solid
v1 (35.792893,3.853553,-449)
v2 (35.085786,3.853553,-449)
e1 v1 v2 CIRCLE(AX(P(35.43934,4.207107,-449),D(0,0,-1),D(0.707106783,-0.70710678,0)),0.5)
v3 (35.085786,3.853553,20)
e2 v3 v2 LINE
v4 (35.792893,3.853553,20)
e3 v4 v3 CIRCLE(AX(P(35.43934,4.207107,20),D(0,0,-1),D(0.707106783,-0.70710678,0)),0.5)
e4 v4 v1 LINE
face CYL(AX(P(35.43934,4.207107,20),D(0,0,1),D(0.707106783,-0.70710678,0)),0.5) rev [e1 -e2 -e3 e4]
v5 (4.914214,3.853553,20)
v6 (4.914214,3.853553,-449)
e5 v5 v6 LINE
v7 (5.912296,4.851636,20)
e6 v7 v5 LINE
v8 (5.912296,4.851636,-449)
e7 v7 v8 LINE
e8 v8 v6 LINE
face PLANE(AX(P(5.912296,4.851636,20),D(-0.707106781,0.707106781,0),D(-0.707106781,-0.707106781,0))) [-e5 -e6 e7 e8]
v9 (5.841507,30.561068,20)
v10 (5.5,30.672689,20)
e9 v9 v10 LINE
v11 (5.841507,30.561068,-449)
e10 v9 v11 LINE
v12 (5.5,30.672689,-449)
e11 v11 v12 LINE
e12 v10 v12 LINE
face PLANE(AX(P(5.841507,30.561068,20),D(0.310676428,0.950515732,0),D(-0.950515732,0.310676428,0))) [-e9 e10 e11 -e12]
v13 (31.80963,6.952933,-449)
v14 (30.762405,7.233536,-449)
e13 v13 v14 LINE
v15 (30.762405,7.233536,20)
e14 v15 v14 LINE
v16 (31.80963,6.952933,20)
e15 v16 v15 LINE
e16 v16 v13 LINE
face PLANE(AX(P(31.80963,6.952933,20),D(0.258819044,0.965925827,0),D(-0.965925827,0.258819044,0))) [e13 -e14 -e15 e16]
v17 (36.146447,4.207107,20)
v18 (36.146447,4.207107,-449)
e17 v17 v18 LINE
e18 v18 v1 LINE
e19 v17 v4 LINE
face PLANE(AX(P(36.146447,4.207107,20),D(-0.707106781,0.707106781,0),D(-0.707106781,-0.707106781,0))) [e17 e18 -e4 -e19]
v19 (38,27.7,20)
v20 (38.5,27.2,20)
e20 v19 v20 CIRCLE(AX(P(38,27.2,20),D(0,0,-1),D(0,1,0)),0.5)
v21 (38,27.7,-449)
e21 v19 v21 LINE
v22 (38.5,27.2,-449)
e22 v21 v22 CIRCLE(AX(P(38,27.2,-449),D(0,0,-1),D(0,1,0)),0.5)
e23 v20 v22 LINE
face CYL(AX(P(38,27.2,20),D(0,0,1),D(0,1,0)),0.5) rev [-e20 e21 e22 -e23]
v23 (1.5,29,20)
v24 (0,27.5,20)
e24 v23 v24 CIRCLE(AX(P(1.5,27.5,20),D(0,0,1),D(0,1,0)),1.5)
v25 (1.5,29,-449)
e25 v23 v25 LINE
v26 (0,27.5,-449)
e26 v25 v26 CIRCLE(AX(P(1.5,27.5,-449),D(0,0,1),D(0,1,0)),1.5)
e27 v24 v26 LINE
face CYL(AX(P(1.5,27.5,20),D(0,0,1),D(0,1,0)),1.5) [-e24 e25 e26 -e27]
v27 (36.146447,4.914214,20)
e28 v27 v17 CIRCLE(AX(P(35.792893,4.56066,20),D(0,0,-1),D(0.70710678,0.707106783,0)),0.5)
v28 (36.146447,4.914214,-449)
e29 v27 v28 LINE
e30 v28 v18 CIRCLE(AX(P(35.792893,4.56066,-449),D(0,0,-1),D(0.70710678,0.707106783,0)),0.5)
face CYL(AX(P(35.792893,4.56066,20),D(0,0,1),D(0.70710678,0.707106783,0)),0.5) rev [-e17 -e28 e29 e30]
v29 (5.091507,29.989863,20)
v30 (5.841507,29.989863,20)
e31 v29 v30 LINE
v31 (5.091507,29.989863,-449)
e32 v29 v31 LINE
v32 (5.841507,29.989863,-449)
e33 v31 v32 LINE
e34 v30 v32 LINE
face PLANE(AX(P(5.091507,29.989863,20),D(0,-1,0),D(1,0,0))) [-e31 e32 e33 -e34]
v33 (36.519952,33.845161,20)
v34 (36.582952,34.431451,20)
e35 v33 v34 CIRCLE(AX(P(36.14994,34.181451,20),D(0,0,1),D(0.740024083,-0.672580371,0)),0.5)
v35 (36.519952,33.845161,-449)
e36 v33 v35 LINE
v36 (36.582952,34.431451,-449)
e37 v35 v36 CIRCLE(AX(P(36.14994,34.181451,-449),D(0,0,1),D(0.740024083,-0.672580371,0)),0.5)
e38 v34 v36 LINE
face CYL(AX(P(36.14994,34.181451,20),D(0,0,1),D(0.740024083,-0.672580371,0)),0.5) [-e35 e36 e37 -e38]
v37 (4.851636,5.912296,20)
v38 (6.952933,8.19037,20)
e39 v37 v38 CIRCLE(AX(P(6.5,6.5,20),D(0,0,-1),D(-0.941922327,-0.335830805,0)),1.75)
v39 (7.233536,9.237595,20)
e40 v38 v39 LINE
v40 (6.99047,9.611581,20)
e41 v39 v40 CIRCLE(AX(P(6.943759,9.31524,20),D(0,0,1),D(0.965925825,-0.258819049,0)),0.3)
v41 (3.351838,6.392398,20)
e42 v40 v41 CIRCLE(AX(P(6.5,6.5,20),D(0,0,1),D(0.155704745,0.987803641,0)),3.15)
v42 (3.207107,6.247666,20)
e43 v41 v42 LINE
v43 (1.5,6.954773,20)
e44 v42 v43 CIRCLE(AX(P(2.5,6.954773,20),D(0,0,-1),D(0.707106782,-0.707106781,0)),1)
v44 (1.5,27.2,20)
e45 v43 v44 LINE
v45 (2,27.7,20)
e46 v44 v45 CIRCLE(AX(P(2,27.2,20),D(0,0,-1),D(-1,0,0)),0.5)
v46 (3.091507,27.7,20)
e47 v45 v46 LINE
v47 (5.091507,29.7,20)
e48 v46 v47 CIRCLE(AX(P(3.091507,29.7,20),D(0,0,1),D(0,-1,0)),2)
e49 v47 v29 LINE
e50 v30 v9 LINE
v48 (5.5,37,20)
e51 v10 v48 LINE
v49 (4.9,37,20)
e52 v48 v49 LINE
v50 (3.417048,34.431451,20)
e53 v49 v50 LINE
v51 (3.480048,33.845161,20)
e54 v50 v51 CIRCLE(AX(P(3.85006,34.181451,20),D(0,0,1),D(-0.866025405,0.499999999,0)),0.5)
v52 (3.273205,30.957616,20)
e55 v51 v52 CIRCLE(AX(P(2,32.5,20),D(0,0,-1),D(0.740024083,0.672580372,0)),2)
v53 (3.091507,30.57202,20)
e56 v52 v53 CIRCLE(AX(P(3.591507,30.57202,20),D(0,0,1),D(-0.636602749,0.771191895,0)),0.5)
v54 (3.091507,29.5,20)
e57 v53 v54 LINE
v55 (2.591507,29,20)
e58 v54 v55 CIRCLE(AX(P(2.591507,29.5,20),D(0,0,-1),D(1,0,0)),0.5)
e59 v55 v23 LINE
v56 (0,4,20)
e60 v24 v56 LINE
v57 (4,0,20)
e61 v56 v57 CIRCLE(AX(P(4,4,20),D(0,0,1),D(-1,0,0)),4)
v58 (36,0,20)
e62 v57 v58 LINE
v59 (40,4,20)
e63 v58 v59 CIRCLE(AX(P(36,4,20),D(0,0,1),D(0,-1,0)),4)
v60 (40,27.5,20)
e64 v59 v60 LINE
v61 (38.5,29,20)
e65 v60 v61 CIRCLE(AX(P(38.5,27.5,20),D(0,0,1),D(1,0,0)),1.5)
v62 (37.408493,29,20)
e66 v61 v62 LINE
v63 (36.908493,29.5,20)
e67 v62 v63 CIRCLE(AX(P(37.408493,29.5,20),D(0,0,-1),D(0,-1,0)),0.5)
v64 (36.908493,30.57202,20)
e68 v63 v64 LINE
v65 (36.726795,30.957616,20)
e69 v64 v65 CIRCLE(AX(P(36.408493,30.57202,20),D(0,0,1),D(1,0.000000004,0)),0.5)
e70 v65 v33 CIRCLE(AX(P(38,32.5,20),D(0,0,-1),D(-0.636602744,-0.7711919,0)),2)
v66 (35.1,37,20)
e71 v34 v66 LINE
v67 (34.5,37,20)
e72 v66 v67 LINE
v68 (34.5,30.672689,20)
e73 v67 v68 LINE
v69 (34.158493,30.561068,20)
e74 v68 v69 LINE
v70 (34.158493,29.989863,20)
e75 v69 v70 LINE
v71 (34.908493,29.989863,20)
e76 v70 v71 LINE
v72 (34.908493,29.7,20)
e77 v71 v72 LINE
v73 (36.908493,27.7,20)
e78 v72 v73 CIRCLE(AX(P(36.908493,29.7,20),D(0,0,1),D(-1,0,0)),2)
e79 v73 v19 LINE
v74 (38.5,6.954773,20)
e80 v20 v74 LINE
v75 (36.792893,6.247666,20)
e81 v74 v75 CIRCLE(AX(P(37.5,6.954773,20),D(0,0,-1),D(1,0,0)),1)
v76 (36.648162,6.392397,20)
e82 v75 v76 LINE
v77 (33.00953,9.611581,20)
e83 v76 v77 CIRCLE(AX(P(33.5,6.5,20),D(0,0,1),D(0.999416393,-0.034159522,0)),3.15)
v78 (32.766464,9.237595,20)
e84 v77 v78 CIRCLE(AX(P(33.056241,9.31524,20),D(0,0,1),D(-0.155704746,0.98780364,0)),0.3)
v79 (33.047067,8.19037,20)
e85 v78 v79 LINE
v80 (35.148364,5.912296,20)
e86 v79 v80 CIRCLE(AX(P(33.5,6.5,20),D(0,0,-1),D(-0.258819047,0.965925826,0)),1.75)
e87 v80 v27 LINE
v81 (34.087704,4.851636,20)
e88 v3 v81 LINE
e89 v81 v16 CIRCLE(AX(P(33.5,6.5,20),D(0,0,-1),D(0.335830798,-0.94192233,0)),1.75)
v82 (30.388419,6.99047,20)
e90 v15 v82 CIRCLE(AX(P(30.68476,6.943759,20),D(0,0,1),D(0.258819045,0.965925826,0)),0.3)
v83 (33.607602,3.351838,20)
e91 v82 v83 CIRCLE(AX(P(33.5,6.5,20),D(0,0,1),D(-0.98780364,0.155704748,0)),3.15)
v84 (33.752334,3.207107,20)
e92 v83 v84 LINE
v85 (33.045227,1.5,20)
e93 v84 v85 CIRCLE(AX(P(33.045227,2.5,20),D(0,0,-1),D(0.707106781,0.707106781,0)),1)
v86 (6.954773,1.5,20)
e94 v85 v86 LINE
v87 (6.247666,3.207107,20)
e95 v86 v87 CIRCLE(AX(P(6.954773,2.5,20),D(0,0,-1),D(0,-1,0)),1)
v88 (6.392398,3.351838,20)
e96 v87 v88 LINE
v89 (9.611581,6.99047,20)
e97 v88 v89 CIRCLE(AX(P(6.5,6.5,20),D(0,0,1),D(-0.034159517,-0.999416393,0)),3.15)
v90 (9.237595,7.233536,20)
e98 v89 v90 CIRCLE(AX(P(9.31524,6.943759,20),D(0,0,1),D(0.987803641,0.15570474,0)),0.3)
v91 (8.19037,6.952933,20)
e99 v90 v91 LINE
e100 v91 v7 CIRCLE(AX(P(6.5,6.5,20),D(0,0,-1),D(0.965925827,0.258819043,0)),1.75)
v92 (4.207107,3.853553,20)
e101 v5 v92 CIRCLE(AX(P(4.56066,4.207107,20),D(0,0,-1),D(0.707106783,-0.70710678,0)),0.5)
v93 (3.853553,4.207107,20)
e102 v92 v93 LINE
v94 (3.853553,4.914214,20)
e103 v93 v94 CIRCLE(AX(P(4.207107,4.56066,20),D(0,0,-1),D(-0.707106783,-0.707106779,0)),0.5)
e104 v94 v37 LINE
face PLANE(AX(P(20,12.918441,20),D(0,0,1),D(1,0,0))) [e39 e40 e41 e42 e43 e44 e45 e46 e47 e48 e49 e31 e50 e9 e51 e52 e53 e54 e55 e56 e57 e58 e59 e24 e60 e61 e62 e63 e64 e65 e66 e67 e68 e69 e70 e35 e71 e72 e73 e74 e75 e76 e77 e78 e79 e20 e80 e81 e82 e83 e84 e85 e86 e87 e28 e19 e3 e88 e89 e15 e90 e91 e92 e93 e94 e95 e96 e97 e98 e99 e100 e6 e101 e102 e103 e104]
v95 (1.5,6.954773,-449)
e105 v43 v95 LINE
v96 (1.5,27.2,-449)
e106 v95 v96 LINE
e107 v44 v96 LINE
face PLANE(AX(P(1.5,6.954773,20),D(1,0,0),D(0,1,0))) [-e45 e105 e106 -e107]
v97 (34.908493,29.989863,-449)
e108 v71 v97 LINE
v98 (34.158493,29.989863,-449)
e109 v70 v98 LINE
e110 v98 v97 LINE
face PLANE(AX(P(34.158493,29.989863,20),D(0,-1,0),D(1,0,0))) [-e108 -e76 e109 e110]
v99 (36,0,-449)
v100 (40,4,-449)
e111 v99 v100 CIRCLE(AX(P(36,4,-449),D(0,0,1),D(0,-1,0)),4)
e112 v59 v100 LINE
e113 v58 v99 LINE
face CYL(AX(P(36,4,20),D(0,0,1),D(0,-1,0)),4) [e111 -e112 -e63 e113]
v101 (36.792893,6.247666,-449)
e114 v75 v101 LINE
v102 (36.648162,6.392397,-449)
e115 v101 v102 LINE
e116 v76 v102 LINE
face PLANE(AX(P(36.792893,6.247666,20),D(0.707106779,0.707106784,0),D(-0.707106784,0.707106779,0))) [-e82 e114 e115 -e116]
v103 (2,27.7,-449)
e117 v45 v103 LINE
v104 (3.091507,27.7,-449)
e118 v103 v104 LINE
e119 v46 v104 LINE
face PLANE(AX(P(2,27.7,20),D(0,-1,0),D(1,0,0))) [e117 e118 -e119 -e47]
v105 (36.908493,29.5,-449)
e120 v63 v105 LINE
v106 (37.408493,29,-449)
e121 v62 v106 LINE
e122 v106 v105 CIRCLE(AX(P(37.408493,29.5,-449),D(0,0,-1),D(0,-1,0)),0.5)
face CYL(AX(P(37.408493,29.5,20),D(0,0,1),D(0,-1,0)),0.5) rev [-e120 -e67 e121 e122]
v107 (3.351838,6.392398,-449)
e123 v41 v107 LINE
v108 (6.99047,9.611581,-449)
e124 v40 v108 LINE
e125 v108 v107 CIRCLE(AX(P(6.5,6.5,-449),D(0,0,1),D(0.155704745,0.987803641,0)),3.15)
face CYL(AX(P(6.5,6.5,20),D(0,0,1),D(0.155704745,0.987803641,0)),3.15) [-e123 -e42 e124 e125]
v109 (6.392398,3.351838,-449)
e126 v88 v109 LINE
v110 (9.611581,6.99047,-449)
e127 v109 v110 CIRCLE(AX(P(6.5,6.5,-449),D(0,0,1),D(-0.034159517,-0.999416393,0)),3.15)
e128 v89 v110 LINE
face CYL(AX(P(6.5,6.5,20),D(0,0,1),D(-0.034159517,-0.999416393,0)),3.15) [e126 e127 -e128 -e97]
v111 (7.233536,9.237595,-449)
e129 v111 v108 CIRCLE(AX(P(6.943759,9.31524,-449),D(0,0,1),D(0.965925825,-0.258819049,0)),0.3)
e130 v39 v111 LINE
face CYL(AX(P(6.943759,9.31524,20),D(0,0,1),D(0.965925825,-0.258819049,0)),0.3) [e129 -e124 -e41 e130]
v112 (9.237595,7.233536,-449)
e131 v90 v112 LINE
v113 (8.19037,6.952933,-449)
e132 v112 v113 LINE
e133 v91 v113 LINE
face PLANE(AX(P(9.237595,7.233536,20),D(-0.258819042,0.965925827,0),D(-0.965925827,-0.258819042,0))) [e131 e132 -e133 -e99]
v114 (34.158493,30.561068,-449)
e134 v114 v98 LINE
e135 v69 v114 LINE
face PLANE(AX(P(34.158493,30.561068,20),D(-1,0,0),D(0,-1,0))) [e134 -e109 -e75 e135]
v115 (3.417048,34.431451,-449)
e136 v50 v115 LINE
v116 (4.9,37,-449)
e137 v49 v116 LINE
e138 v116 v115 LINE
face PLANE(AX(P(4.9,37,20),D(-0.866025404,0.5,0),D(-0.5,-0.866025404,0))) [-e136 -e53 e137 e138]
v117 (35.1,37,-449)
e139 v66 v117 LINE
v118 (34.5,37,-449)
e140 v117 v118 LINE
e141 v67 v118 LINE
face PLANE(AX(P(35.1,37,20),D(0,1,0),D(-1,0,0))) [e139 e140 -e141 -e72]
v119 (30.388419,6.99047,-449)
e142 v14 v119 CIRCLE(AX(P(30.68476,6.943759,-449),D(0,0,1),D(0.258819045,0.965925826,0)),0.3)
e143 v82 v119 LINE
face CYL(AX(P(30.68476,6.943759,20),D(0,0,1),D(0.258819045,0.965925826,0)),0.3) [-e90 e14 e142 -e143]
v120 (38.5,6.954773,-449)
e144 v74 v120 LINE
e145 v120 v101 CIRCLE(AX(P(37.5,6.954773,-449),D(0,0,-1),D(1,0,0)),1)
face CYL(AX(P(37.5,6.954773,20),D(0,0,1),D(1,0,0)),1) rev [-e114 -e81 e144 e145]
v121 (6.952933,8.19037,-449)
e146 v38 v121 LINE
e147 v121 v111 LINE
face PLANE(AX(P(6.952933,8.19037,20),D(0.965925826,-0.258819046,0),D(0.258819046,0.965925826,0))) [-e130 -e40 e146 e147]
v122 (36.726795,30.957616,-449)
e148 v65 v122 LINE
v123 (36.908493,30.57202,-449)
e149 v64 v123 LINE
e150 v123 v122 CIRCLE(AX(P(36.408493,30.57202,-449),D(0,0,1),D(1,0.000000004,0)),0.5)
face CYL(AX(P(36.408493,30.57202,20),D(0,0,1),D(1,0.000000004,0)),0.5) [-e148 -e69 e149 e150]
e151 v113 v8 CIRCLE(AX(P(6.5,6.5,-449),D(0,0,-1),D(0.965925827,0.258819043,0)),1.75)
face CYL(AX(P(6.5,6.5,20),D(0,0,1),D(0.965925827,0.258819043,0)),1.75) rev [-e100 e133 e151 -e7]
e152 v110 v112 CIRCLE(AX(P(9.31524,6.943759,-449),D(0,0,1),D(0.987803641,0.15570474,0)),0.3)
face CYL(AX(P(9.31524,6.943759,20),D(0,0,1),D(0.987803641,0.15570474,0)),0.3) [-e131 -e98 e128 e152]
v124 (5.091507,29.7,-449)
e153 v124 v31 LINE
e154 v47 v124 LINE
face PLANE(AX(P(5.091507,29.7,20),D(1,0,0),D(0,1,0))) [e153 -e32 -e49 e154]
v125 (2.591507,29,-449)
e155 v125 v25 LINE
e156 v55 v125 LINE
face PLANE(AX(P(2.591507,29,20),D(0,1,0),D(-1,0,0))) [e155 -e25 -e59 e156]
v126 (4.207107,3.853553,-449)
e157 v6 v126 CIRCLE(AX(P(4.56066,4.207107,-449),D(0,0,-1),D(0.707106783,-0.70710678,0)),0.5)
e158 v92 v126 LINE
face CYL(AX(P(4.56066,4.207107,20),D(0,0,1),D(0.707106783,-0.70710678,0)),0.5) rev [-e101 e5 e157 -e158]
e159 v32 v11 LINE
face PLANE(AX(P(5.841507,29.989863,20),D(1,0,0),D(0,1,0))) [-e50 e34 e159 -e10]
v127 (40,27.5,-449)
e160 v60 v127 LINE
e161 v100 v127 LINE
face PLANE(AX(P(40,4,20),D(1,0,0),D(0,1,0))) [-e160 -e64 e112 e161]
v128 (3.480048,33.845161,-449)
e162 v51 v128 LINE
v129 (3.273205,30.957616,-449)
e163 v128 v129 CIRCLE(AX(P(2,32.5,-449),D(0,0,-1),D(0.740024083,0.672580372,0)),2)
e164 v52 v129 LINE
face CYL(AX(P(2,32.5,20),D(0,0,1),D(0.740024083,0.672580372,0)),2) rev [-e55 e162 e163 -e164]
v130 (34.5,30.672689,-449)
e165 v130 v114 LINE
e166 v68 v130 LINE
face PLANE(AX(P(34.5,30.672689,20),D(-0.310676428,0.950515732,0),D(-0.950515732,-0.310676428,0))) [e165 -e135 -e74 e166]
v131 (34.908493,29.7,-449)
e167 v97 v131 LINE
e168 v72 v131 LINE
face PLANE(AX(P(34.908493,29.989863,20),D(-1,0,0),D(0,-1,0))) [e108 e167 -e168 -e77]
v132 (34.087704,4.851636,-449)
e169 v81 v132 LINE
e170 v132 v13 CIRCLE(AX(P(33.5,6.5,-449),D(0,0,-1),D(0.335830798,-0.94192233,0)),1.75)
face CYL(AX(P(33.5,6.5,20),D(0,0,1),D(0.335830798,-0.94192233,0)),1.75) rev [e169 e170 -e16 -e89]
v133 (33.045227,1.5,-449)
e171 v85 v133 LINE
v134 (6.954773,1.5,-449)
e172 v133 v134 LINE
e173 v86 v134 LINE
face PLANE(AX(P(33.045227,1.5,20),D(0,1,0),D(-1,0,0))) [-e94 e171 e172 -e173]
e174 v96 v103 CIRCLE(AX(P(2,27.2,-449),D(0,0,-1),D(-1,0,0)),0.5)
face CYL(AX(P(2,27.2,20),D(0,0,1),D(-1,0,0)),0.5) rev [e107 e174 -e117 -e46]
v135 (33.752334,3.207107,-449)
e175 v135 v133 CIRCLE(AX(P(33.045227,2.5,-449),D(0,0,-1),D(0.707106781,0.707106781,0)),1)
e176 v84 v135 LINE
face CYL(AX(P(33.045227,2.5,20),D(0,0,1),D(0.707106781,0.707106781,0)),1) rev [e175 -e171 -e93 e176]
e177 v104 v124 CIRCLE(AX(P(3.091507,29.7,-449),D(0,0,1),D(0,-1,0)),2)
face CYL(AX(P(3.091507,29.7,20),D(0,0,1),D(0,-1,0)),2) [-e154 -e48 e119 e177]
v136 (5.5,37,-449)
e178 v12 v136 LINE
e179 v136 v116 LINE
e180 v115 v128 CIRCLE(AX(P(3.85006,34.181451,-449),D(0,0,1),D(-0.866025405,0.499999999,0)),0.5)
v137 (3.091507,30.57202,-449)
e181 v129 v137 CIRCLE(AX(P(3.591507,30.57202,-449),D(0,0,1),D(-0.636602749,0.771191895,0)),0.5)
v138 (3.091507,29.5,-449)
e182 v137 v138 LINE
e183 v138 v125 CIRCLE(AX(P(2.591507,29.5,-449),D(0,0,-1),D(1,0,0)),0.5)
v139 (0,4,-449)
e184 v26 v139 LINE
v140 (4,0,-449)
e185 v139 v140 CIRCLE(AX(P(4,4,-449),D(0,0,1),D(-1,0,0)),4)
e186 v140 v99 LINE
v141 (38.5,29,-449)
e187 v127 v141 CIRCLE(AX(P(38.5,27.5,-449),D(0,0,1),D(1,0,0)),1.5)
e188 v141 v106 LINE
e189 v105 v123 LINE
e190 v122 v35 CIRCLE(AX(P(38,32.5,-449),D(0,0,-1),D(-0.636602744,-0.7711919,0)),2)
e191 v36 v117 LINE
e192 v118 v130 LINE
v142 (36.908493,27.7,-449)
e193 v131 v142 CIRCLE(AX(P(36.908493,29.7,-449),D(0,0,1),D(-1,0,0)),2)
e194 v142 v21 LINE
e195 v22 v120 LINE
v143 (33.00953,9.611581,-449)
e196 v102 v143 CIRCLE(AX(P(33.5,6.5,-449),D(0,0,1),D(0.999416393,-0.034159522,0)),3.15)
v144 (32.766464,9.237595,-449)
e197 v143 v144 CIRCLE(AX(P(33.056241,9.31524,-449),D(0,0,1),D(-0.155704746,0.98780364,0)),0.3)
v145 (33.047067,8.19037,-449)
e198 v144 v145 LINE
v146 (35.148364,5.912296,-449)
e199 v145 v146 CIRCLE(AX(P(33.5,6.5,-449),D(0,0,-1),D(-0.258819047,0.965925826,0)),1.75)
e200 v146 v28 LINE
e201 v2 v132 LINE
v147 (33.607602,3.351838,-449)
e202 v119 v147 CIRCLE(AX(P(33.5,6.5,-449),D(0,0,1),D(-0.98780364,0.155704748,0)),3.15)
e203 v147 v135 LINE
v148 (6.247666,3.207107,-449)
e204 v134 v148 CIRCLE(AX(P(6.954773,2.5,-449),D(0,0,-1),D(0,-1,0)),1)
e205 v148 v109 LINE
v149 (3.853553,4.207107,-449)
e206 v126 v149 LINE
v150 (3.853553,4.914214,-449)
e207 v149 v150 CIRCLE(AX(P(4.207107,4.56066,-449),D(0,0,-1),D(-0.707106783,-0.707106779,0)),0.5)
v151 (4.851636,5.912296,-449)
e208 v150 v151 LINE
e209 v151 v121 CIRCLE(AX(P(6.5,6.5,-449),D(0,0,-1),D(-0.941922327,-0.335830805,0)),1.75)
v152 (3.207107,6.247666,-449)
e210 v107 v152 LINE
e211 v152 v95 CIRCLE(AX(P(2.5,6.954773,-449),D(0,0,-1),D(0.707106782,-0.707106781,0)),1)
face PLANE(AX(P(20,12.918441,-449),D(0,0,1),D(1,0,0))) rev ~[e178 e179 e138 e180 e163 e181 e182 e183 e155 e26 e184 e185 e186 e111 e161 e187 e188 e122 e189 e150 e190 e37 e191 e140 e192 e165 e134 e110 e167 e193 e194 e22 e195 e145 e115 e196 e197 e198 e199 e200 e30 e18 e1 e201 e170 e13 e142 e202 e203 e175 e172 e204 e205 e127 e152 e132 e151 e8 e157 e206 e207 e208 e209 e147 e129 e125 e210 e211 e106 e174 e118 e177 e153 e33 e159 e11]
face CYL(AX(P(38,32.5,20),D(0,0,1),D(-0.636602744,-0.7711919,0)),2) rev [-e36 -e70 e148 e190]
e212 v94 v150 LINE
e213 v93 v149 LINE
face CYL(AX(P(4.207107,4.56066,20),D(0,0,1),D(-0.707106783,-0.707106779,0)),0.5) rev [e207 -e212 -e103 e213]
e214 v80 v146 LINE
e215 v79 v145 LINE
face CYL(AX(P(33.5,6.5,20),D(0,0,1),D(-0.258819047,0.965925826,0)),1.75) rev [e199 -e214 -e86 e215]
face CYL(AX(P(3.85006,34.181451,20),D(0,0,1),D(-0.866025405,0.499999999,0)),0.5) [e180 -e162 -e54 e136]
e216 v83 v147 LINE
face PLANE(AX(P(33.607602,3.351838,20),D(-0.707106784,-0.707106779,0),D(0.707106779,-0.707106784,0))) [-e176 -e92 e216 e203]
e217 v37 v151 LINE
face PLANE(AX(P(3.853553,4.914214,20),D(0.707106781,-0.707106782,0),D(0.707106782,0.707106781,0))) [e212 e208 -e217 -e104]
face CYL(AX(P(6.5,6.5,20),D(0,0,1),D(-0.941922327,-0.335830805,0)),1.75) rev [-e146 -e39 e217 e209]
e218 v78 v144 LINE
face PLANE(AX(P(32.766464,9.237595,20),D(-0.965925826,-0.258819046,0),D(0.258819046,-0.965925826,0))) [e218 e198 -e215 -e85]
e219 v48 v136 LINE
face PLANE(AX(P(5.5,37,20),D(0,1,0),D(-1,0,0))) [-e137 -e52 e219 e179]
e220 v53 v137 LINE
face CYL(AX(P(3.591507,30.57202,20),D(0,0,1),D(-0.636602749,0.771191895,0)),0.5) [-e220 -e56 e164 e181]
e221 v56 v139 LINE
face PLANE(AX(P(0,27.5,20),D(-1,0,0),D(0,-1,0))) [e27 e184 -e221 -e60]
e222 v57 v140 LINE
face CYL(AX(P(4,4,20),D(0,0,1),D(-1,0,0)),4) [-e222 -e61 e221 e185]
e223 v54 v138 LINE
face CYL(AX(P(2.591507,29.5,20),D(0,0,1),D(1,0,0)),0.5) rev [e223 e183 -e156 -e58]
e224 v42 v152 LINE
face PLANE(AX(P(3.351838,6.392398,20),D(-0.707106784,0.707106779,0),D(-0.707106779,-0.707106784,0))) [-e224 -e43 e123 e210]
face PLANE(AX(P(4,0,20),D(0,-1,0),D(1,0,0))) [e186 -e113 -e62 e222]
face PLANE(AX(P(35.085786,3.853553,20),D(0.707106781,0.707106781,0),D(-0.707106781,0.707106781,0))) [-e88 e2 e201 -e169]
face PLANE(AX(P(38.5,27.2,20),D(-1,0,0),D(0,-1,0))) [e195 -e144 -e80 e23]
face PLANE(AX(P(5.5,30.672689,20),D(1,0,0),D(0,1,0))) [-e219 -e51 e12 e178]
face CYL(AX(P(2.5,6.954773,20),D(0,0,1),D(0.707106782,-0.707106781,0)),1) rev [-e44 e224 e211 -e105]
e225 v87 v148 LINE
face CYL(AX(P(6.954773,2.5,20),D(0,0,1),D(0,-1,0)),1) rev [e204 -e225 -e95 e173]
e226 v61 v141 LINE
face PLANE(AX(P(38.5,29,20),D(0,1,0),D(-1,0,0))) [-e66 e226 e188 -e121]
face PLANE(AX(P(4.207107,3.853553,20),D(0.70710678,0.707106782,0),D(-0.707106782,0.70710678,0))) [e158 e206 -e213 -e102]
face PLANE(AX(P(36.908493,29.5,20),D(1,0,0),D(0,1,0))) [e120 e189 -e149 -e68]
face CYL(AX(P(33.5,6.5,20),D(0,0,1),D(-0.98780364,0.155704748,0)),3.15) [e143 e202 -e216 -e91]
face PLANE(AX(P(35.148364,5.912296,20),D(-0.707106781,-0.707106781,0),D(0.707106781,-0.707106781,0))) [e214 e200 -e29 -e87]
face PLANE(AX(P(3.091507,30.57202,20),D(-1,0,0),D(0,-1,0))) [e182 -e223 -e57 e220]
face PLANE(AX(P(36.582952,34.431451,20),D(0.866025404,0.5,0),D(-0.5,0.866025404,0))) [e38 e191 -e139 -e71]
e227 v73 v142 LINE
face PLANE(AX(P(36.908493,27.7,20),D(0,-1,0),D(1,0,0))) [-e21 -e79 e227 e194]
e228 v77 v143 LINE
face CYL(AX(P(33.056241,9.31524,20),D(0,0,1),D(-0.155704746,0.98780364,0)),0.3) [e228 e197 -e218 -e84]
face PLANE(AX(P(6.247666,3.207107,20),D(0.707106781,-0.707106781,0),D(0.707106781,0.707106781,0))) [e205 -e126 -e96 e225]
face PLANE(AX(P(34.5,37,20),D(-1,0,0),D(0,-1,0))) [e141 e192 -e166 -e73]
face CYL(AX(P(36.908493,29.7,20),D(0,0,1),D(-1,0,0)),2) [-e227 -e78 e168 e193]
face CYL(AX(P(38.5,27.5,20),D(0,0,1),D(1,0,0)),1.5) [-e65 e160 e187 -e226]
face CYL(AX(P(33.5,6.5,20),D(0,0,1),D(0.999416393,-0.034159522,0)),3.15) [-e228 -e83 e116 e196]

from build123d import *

# Parameters (mm, degrees)
BOSS_EXTRUDE1_DEPTH = 469


with BuildPart() as part:
    # Sketch1 → Boss-Extrude1 (new body)
    with BuildSketch(Plane.XY.offset(20)):
        with BuildLine():
            Line((4, 0), (36, 0))
            ThreePointArc((36, 0), (38.828427125, 1.171572875), (40, 4))
            Line((40, 4), (40, 27.499999994))
            ThreePointArc((40, 27.499999994), (39.56066017, 28.56066017), (38.499999994, 29))
            Line((38.499999994, 29), (37.408493132, 29))
            ThreePointArc((37.408493132, 29), (37.05493974, 29.14644661), (36.90849313, 29.500000002))
            Line((36.90849313, 29.500000002), (36.90849313, 30.572020267))
            ThreePointArc((36.90849313, 30.572020267), (36.86079319, 30.785150869), (36.726794508, 30.957616203))
            ThreePointArc((36.726794508, 30.957616203), (36.005111578, 32.357100716), (36.519951827, 33.845160752))
            ThreePointArc((36.519951827, 33.845160752), (36.647077826, 34.128030253), (36.582952488, 34.431450944))
            Line((36.582952488, 34.431450944), (35.099999998, 37.000000001))
            Line((35.099999998, 37.000000001), (34.500000002, 37.000000001))
            Line((34.500000002, 37.000000001), (34.500000002, 30.672689193))
            Line((34.500000002, 30.672689193), (34.158493132, 30.561067543))
            Line((34.158493132, 30.561067543), (34.158493132, 29.989862813))
            Line((34.158493132, 29.989862813), (34.908493132, 29.989862813))
            Line((34.908493132, 29.989862813), (34.908493132, 29.700000011))
            ThreePointArc((34.908493132, 29.700000011), (35.494279572, 28.285786443), (36.908493141, 27.700000003))
            Line((36.908493141, 27.700000003), (38.000000017, 27.700000003))
            ThreePointArc((38.000000017, 27.700000003), (38.353553409, 27.553553393), (38.500000019, 27.200000001))
            Line((38.500000019, 27.200000001), (38.500000019, 6.9547727))
            ThreePointArc((38.500000019, 6.9547727), (37.882683451, 6.030893167), (36.792893237, 6.247665919))
            Line((36.792893237, 6.247665919), (36.648161659, 6.392397496))
            ThreePointArc((36.648161659, 6.392397496), (35.587251229, 8.859212237), (33.009530056, 9.611581471))
            ThreePointArc((33.009530056, 9.611581471), (32.804700675, 9.478725012), (32.766463725, 9.237594653))
            Line((32.766463725, 9.237594653), (33.047066675, 8.190370192))
            ThreePointArc((33.047066675, 8.190370192), (34.786339421, 7.686520507), (35.148364083, 5.912296075))
            Line((35.148364083, 5.912296075), (36.146446608, 4.91421355))
            ThreePointArc((36.146446608, 4.91421355), (36.292893217, 4.560660161), (36.146446608, 4.207106773))
            Line((36.146446608, 4.207106773), (35.792893214, 3.853553379))
            ThreePointArc((35.792893214, 3.853553379), (35.439339826, 3.70710677), (35.085786437, 3.853553379))
            Line((35.085786437, 3.853553379), (34.087703906, 4.85163591))
            ThreePointArc((34.087703906, 4.85163591), (32.313479487, 5.213660585), (31.809629807, 6.952933321))
            Line((31.809629807, 6.952933321), (30.762405333, 7.233536272))
            ThreePointArc((30.762405333, 7.233536272), (30.521274984, 7.195299323), (30.38841853, 6.990469949))
            ThreePointArc((30.38841853, 6.990469949), (31.140787752, 4.412748784), (33.607602477, 3.351838341))
            Line((33.607602477, 3.351838341), (33.752334032, 3.207106785))
            ThreePointArc((33.752334032, 3.207106785), (33.969106782, 2.117316579), (33.045227255, 1.500000015))
            Line((33.045227255, 1.500000015), (6.954772716, 1.500000015))
            ThreePointArc((6.954772716, 1.500000015), (6.030893183, 2.117316583), (6.247665934, 3.207106797))
            Line((6.247665934, 3.207106797), (6.392397512, 3.351838375))
            ThreePointArc((6.392397512, 3.351838375), (8.859212224, 4.412748803), (9.611581449, 6.990469949))
            ThreePointArc((9.611581449, 6.990469949), (9.478724996, 7.195299323), (9.237594646, 7.233536272))
            Line((9.237594646, 7.233536272), (8.190370187, 6.952933328))
            ThreePointArc((8.190370187, 6.952933328), (7.686520502, 5.213660596), (5.912296085, 4.851635932))
            Line((5.912296085, 4.851635932), (4.914213553, 3.8535534))
            ThreePointArc((4.914213553, 3.8535534), (4.560660164, 3.707106791), (4.207106776, 3.8535534))
            Line((4.207106776, 3.8535534), (3.853553388, 4.207106787))
            ThreePointArc((3.853553388, 4.207106787), (3.70710678, 4.560660175), (3.853553388, 4.914213564))
            Line((3.853553388, 4.914213564), (4.85163592, 5.912296095))
            ThreePointArc((4.85163592, 5.912296095), (5.213660585, 7.686520517), (6.952933322, 8.190370198))
            Line((6.952933322, 8.190370198), (7.233536268, 9.237594644))
            ThreePointArc((7.233536268, 9.237594644), (7.195299318, 9.478725003), (6.990469936, 9.611581462))
            ThreePointArc((6.990469936, 9.611581462), (4.412748785, 8.859212233), (3.351838362, 6.392397513))
            Line((3.351838362, 6.392397513), (3.207106785, 6.247665935))
            ThreePointArc((3.207106785, 6.247665935), (2.11731657, 6.030893183), (1.500000002, 6.954772717))
            Line((1.500000002, 6.954772717), (1.500000002, 27.200000001))
            ThreePointArc((1.500000002, 27.200000001), (1.646446612, 27.553553393), (2.000000004, 27.700000003))
            Line((2.000000004, 27.700000003), (3.091506864, 27.700000003))
            ThreePointArc((3.091506864, 27.700000003), (4.505720432, 28.285786443), (5.091506872, 29.700000011))
            Line((5.091506872, 29.700000011), (5.091506872, 29.989862813))
            Line((5.091506872, 29.989862813), (5.841506868, 29.989862813))
            Line((5.841506868, 29.989862813), (5.841506868, 30.561067541))
            Line((5.841506868, 30.561067541), (5.499999998, 30.672689191))
            Line((5.499999998, 30.672689191), (5.499999998, 37.000000001))
            Line((5.499999998, 37.000000001), (4.899999998, 37.000000001))
            Line((4.899999998, 37.000000001), (3.417047508, 34.431450944))
            ThreePointArc((3.417047508, 34.431450944), (3.35292217, 34.128030253), (3.480048169, 33.845160751))
            ThreePointArc((3.480048169, 33.845160751), (3.99488842, 32.357100716), (3.273205491, 30.957616203))
            ThreePointArc((3.273205491, 30.957616203), (3.13920681, 30.785150869), (3.09150687, 30.572020267))
            Line((3.09150687, 30.572020267), (3.09150687, 29.500000002))
            ThreePointArc((3.09150687, 29.500000002), (2.94506026, 29.14644661), (2.591506868, 29))
            Line((2.591506868, 29), (1.500000006, 29))
            ThreePointArc((1.500000006, 29), (0.43933983, 28.56066017), (0, 27.499999994))
            Line((0, 27.499999994), (0, 4))
            ThreePointArc((0, 4), (1.171572875, 1.171572875), (4, 0))
        make_face()
    extrude(amount=-BOSS_EXTRUDE1_DEPTH)


solid = part.part
